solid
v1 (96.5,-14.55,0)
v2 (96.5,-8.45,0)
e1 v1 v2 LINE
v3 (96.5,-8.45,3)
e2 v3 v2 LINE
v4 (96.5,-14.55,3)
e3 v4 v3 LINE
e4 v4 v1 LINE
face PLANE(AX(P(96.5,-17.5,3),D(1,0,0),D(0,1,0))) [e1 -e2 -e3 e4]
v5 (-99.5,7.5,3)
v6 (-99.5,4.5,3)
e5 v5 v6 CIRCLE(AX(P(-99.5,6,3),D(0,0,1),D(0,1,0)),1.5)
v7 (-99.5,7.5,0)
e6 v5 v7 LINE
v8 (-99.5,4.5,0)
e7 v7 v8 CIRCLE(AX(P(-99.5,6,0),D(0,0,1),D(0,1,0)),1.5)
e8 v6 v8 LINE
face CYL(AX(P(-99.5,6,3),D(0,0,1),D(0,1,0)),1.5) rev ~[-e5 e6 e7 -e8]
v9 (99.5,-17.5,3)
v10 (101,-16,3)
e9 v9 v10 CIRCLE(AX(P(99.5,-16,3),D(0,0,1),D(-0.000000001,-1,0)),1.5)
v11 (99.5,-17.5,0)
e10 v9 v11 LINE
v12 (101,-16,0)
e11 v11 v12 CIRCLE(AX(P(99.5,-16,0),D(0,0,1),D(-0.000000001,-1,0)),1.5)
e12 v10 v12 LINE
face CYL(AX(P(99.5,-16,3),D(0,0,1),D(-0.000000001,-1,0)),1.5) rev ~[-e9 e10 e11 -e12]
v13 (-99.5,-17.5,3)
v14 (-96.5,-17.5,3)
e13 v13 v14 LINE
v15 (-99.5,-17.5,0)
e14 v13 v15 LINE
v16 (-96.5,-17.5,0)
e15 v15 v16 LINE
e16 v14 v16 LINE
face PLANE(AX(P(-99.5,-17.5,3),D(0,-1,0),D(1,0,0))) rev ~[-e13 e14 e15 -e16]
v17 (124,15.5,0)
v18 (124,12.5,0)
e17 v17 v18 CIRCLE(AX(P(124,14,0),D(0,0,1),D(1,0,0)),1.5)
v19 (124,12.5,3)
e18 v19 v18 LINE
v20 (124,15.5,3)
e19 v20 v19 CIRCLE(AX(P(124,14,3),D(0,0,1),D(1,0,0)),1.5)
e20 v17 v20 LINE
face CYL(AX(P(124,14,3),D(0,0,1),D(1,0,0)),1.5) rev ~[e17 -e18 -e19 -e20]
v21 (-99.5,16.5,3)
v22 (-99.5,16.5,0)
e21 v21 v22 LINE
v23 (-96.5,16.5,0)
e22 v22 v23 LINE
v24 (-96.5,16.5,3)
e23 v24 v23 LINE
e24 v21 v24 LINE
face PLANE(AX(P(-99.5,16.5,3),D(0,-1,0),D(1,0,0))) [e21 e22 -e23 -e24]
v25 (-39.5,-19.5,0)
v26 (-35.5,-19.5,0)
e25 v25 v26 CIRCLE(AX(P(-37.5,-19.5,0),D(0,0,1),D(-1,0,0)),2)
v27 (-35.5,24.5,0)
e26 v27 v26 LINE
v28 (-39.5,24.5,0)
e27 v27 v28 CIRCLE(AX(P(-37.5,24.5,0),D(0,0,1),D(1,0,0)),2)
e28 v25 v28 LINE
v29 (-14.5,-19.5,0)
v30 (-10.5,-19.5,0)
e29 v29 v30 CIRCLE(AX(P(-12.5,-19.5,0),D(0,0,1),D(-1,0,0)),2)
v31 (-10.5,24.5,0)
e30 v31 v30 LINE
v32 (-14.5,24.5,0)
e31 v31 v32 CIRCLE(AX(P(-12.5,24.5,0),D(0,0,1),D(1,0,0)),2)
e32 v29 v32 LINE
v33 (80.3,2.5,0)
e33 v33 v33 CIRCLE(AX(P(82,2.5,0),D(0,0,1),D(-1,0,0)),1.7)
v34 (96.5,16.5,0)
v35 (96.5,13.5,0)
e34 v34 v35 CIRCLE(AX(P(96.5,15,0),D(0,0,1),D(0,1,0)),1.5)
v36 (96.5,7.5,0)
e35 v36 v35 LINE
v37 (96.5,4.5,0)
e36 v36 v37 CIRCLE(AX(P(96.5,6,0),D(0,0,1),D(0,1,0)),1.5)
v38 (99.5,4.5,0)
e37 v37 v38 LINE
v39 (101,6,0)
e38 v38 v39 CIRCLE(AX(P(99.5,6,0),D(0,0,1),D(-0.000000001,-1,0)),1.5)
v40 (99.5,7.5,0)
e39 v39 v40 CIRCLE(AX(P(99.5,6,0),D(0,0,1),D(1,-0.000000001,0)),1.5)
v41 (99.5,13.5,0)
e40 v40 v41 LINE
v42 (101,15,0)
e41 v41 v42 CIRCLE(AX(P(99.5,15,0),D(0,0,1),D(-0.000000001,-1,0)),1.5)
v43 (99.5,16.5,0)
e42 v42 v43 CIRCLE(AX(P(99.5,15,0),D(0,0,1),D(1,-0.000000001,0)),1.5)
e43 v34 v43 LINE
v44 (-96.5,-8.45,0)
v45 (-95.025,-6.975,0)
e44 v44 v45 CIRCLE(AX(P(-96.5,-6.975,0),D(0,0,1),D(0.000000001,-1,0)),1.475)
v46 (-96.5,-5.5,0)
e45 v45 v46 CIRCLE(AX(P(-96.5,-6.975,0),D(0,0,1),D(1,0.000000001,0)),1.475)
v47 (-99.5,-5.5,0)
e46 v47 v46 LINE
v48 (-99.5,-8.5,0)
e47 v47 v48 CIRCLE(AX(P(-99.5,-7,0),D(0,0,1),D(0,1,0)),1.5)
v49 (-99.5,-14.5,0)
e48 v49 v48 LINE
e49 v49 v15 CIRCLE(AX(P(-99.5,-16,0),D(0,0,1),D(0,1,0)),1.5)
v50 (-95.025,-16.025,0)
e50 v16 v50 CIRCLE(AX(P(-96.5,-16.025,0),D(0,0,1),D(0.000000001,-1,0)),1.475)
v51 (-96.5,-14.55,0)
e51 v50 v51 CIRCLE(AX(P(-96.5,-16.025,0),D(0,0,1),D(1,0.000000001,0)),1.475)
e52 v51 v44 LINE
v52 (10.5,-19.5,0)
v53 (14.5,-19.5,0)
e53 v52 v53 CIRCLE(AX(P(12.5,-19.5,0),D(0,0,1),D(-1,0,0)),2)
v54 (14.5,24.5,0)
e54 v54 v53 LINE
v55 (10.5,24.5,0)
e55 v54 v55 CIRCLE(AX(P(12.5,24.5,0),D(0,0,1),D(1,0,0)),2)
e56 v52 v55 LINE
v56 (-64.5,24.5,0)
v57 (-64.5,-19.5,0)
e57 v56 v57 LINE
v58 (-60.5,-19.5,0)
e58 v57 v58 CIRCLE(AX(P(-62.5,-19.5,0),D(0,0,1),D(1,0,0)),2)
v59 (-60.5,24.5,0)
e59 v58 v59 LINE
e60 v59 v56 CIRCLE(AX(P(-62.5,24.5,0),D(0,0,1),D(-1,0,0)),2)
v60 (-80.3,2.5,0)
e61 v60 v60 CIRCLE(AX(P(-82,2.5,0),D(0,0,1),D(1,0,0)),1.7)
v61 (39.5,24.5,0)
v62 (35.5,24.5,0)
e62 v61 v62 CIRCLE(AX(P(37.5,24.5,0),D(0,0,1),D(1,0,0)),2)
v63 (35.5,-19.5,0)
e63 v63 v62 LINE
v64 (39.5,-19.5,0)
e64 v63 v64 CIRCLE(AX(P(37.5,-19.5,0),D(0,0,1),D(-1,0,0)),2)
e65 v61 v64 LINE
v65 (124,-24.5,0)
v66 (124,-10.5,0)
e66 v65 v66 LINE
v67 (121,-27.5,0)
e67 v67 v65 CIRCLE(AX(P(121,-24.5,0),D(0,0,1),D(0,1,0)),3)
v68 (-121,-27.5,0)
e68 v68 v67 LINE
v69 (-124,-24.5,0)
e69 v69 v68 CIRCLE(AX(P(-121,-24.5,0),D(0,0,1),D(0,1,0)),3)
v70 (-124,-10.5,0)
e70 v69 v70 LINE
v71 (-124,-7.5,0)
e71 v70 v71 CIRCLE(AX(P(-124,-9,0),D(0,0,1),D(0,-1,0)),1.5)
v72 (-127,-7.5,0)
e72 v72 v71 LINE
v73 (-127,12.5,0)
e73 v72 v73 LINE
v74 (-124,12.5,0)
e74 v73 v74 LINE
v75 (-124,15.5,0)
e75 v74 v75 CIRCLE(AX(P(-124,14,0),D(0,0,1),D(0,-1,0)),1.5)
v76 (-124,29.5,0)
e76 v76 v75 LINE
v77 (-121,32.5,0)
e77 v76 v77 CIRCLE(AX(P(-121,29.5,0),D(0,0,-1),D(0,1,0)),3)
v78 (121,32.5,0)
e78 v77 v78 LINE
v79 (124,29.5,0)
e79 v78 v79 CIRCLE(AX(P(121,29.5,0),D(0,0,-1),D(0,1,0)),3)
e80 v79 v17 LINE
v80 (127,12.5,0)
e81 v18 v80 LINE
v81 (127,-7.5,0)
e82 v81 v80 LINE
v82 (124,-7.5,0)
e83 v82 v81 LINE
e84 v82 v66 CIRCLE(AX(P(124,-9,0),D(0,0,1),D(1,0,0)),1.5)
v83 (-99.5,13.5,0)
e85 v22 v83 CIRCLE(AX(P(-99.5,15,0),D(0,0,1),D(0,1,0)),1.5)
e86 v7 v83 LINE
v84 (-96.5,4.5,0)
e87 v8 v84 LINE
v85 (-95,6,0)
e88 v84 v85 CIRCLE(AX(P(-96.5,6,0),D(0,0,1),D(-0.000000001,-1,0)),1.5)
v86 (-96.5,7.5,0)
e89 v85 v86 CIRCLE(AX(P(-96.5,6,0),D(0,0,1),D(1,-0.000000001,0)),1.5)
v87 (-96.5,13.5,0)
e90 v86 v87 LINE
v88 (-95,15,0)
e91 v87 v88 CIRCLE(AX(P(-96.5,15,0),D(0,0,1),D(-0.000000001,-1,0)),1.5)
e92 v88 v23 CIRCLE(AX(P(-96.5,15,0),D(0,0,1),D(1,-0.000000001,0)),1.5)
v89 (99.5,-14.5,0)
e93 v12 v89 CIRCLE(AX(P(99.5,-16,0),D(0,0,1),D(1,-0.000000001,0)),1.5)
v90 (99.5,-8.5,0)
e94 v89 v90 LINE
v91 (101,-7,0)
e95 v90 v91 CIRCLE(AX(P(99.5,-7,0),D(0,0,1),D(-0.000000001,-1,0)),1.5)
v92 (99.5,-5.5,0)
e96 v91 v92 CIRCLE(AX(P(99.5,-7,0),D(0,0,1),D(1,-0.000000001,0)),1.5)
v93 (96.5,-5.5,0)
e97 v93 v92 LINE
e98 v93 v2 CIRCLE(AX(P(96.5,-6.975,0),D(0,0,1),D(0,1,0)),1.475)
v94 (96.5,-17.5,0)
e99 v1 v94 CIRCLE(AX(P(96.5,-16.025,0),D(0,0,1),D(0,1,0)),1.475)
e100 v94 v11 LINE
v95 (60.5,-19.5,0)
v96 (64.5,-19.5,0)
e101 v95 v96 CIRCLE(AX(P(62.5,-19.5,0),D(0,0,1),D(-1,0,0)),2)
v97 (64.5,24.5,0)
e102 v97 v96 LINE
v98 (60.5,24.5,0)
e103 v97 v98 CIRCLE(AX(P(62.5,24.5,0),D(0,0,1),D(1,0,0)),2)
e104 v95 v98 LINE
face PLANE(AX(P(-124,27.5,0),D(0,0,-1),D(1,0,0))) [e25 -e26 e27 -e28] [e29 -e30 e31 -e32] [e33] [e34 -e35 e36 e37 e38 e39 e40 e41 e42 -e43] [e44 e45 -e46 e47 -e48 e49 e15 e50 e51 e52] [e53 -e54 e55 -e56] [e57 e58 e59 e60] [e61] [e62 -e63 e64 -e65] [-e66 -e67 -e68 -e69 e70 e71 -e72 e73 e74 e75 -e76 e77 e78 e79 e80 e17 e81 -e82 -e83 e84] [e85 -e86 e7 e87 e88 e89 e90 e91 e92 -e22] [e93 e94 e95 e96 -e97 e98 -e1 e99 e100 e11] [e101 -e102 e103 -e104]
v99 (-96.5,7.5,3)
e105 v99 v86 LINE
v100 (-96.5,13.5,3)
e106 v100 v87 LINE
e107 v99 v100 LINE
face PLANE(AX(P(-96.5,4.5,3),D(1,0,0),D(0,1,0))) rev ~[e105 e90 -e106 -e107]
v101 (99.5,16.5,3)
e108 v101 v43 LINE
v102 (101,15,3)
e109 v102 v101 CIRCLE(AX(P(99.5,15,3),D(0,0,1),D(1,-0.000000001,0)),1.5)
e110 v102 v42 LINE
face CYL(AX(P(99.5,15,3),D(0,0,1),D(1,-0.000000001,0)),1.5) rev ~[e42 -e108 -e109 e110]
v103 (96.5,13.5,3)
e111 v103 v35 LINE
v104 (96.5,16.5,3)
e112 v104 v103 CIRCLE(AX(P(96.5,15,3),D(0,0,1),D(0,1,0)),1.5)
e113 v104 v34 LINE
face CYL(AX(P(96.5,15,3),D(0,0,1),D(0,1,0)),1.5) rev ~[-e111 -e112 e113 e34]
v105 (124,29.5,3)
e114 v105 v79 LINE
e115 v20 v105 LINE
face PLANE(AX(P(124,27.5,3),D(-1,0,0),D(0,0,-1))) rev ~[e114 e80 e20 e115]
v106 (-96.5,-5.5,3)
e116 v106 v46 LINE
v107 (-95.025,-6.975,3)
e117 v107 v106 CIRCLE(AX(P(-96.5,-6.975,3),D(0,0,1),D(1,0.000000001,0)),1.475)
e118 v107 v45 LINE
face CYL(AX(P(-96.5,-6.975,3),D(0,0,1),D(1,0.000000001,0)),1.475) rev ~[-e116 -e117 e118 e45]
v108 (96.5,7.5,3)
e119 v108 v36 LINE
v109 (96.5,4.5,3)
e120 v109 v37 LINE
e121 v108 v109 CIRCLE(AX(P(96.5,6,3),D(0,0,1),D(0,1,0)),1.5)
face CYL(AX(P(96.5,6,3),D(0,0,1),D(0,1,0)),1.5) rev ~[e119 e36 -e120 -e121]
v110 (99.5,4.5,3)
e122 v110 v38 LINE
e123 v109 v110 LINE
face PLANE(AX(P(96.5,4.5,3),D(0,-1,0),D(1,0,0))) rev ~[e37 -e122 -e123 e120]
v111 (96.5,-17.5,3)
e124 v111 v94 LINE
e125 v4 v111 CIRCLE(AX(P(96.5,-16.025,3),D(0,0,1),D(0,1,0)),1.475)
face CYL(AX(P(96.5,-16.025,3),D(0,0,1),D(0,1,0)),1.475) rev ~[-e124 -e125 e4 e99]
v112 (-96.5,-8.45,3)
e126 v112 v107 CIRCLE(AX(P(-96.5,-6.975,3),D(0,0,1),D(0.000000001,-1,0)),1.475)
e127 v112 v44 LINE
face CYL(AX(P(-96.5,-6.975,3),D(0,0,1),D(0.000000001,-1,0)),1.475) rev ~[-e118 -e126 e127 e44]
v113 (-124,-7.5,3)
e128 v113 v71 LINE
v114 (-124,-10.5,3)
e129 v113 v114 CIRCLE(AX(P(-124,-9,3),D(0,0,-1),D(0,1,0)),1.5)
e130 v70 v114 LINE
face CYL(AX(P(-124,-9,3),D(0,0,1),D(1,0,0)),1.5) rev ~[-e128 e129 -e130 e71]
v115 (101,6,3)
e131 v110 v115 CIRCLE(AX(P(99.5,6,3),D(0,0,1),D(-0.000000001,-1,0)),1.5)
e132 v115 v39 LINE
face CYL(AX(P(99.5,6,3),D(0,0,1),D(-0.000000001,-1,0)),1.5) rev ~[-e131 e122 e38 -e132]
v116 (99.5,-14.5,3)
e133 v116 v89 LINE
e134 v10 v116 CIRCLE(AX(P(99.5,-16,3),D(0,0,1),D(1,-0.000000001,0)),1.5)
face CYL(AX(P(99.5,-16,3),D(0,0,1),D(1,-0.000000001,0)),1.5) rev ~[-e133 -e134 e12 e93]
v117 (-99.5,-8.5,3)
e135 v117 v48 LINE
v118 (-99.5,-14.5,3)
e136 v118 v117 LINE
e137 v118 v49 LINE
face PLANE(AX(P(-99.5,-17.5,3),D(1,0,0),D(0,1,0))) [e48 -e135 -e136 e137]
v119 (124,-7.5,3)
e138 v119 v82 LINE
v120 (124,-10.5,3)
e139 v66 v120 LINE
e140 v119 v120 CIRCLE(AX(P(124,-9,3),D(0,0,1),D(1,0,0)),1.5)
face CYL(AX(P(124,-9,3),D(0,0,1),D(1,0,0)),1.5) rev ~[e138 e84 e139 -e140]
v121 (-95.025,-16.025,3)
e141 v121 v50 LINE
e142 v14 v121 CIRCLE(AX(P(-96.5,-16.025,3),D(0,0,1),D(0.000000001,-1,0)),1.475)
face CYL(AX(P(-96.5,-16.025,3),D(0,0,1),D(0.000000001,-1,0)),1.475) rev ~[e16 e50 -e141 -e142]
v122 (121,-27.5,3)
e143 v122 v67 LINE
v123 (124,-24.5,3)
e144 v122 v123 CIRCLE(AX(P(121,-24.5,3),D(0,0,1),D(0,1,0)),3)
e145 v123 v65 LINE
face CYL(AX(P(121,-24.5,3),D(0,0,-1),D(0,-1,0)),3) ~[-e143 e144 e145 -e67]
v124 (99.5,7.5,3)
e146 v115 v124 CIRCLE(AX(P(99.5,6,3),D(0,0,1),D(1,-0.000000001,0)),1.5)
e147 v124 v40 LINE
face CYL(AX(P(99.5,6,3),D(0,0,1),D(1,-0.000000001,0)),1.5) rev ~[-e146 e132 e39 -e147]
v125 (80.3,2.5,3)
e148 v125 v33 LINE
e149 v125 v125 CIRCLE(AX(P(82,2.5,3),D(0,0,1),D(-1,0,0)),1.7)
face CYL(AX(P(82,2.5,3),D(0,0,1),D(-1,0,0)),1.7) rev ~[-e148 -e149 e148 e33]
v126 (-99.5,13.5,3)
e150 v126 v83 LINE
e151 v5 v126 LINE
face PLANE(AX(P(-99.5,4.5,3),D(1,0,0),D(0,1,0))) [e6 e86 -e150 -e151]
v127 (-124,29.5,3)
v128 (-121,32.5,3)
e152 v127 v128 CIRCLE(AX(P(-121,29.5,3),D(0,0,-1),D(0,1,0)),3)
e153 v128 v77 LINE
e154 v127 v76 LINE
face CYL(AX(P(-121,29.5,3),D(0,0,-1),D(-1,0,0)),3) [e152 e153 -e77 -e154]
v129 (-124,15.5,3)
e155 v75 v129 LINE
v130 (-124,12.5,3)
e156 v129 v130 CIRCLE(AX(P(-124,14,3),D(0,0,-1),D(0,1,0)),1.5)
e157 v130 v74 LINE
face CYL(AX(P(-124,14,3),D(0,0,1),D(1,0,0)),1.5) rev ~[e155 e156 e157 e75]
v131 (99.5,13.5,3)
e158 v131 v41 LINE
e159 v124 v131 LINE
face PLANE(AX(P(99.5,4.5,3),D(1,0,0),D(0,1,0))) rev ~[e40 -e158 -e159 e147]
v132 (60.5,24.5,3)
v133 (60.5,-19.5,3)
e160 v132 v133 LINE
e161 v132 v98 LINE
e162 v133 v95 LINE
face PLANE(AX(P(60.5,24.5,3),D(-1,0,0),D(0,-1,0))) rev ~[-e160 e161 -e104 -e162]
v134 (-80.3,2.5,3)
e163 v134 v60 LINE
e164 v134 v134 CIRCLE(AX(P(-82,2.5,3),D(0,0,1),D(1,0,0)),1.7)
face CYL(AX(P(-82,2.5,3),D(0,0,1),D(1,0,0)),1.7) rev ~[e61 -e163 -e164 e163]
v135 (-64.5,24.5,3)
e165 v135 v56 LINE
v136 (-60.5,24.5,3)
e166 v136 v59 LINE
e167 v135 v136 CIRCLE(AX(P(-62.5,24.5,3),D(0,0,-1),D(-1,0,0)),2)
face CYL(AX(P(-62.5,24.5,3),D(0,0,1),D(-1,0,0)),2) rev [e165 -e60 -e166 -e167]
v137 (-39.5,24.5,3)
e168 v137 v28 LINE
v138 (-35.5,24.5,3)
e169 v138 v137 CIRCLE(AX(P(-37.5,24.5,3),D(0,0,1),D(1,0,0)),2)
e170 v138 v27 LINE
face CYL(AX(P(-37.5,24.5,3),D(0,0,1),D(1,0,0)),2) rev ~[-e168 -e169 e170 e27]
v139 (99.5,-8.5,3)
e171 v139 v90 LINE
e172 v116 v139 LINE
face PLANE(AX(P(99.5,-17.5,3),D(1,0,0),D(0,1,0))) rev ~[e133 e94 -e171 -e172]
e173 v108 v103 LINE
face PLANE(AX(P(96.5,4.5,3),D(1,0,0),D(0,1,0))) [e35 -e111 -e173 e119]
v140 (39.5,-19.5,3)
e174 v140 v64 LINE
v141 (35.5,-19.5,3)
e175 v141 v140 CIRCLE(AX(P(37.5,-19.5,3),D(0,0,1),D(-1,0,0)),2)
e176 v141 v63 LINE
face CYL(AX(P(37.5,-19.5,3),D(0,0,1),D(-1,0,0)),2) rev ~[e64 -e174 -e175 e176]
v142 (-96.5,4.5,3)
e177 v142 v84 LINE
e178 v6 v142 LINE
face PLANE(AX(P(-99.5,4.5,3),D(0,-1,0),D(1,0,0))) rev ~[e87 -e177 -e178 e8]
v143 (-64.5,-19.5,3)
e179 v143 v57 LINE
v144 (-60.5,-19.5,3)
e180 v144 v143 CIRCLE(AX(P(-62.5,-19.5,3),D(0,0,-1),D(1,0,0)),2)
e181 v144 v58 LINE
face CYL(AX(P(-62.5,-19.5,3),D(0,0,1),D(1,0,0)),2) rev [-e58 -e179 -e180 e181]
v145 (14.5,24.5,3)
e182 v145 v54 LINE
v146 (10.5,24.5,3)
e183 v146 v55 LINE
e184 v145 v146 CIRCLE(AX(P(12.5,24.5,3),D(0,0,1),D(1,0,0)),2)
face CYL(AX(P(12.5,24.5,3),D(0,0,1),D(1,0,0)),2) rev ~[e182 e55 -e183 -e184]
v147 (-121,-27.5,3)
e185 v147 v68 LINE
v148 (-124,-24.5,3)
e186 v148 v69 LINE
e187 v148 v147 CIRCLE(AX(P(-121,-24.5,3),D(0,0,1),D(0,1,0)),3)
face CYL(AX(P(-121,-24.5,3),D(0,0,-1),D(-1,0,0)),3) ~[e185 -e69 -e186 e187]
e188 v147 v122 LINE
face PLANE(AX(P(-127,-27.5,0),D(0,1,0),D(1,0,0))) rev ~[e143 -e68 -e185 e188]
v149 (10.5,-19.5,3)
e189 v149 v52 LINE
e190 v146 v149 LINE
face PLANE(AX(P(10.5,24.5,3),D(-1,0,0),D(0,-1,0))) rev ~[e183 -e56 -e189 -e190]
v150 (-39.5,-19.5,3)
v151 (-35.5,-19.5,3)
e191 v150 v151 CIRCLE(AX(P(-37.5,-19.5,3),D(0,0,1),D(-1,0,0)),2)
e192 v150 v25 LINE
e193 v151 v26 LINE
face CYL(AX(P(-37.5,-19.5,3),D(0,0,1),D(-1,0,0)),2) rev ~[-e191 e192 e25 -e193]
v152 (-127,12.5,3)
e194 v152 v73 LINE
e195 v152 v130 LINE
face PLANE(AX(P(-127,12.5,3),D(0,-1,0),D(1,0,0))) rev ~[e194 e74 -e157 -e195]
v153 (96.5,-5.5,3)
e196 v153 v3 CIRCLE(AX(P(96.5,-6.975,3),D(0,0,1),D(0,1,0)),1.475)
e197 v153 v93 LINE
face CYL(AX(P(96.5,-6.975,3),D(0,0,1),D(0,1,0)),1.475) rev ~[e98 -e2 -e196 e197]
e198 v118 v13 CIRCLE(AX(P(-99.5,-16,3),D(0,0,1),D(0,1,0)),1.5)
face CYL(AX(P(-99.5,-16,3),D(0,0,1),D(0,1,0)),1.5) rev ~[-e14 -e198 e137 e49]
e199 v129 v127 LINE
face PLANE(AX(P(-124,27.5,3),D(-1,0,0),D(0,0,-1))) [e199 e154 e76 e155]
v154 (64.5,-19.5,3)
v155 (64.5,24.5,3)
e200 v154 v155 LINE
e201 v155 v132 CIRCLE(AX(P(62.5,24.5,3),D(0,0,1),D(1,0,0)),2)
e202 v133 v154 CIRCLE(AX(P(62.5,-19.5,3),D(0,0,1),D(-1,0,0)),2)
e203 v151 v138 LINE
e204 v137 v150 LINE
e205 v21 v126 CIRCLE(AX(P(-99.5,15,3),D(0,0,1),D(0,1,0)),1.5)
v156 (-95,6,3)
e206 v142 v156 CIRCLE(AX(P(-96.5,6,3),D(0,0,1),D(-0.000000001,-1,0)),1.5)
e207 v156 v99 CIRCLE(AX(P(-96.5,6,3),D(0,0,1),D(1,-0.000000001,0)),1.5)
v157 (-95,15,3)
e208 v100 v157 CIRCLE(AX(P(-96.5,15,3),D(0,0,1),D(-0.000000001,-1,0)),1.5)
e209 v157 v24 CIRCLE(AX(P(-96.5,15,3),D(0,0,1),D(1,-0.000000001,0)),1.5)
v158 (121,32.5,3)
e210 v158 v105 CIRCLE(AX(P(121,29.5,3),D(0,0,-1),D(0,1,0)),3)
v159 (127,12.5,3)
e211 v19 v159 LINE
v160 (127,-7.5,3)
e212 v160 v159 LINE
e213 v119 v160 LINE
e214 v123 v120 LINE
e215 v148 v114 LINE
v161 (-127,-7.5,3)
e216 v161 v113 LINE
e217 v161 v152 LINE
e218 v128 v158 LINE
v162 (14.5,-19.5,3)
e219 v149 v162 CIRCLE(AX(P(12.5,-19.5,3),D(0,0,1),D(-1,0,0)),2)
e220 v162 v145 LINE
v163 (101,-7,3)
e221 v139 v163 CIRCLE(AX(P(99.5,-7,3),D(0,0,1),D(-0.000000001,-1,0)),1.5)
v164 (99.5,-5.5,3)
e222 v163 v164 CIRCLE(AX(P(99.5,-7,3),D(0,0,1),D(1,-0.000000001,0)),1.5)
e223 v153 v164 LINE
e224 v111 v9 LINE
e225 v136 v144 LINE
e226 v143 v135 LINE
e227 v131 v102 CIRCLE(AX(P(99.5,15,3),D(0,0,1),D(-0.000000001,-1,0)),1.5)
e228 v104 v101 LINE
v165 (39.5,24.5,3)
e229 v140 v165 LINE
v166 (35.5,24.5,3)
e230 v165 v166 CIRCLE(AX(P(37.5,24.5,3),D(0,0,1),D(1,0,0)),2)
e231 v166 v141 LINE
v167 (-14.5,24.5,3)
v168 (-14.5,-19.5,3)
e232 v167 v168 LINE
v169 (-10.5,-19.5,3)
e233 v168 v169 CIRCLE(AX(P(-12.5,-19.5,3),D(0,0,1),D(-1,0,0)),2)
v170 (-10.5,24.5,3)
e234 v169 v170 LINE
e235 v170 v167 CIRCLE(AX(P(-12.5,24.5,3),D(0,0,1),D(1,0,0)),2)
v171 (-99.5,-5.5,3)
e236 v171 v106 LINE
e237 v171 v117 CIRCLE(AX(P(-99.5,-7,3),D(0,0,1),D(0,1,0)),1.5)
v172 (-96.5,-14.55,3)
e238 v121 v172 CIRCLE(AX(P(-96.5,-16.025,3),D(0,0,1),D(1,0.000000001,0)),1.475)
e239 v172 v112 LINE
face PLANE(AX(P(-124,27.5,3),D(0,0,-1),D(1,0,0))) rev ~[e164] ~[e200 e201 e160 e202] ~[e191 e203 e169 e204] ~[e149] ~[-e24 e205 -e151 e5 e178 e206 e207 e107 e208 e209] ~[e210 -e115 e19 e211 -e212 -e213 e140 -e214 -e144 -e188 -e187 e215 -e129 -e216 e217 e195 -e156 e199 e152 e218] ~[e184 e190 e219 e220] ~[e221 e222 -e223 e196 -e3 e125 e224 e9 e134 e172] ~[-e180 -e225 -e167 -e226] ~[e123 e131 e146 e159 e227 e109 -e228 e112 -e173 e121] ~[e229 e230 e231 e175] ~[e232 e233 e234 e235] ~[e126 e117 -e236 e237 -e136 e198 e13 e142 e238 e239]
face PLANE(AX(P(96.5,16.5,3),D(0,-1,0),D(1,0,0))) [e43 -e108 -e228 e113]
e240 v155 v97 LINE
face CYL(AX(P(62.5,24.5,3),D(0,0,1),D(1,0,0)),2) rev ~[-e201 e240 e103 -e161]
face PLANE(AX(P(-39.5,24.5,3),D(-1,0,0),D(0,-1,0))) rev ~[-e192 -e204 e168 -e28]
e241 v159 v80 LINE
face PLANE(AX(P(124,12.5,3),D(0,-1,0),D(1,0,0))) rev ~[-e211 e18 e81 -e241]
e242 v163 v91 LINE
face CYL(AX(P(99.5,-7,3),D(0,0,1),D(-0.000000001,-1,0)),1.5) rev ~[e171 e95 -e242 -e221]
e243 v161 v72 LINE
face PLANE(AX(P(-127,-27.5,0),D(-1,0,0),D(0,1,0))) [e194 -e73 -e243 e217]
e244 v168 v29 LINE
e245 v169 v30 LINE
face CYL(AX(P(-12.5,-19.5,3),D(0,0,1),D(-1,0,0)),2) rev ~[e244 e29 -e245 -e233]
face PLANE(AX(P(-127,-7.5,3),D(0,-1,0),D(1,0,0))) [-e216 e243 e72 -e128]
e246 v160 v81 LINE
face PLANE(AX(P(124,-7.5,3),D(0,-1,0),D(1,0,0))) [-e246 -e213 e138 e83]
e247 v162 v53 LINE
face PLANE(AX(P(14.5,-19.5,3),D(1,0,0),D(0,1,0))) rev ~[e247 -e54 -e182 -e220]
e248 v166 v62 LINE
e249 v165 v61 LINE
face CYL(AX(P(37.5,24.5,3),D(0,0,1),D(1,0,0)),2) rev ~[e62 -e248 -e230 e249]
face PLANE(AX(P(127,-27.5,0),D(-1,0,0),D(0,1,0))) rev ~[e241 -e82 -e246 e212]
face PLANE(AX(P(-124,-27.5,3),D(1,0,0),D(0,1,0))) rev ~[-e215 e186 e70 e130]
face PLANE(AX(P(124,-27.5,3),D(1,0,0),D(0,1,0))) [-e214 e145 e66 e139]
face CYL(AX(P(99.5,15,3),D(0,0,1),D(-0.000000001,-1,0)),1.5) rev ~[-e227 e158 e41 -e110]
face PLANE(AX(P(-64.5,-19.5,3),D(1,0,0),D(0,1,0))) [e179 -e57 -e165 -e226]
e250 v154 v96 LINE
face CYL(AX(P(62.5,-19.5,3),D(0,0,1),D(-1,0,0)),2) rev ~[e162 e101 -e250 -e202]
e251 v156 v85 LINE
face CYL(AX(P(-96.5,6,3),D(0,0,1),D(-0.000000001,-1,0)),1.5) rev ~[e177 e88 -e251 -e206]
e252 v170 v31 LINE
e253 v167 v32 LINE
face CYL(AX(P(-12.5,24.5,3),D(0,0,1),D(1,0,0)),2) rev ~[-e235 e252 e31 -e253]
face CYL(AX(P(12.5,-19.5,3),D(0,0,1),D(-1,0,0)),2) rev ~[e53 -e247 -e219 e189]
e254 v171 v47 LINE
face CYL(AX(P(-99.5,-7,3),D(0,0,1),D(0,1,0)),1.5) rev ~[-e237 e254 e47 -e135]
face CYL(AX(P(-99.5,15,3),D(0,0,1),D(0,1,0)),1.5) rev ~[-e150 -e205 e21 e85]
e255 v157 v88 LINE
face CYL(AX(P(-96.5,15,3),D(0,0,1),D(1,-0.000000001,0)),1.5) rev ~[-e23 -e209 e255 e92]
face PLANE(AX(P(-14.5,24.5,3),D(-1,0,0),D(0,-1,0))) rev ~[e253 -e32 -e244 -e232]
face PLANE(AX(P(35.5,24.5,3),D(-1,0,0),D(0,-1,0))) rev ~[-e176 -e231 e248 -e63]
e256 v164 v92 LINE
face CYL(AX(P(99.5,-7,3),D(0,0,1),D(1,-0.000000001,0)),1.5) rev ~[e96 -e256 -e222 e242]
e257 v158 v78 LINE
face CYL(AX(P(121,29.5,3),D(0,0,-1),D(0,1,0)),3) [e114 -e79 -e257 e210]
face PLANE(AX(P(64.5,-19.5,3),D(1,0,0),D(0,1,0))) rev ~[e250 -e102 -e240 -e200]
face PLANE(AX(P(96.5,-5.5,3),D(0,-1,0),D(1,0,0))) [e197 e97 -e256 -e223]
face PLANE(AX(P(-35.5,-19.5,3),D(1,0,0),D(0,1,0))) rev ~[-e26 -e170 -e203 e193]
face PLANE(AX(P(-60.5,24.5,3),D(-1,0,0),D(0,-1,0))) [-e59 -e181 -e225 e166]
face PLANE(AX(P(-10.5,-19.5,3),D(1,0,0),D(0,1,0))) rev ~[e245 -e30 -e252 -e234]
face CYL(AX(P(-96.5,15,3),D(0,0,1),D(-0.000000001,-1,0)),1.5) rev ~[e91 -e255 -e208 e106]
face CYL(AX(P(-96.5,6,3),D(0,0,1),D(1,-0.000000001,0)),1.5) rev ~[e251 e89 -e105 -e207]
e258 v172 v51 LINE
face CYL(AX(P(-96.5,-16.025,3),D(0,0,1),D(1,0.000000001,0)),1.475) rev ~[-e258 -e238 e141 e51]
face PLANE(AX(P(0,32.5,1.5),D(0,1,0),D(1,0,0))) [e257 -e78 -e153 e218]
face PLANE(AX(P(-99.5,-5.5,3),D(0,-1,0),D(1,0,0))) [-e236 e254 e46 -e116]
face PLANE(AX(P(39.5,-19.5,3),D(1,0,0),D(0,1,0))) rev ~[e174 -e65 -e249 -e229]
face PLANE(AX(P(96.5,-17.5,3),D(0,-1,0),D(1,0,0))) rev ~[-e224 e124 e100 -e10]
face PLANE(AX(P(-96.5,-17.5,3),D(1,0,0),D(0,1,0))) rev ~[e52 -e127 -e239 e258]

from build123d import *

# Parameters (mm, degrees)
SKETCH_1_W          = 254
SKETCH_1_H          = 55
EXTRUDE_1_DEPTH     = 3
SKETCH_2_W          = 3
SKETCH_2_H          = 20
SKETCH_2_H_2        = 15
CUT_EXTRUDE_1_DEPTH = 130.977882734
SKETCH_3_W          = 3
SKETCH_3_H          = 12
CUT_EXTRUDE_2_DEPTH = 130.977882734
CUT_EXTRUDE_3_DEPTH = 130.977882734
SKETCH_5_R          = 1.5
CUT_EXTRUDE_4_DEPTH = 130.977882734
SKETCH_6_R          = 1.7
CUT_EXTRUDE_5_DEPTH = 130.977882734
SKETCH_7_W          = 248
SKETCH_7_H          = 3
EXTRUDE_2_DEPTH     = 5
CUT_EXTRUDE_6_DEPTH = 132.126846984
FILLET_1_R          = 3


with BuildPart() as part:
    # 草图1 → 凸台-拉伸1 (new body)
    with BuildSketch(Plane.XY):
        Rectangle(SKETCH_1_W, SKETCH_1_H)
    extrude(amount=EXTRUDE_1_DEPTH)

    # 草图2 → 切除-拉伸1 (cut, through all)
    with BuildSketch(Plane.XY.offset(3)):
        with Locations((-125.5, -17.5)):
            Rectangle(SKETCH_2_W, SKETCH_2_H)
        with Locations((-125.5, 20)):
            Rectangle(SKETCH_2_W, SKETCH_2_H_2)
        with Locations((125.5, -17.5)):
            Rectangle(SKETCH_2_W, SKETCH_2_H)
        with Locations((125.5, 20)):
            Rectangle(SKETCH_2_W, SKETCH_2_H_2)
    extrude(amount=-CUT_EXTRUDE_1_DEPTH, mode=Mode.SUBTRACT)

    # 草图3 → 切除-拉伸2 (cut, through all)
    with BuildSketch(Plane.XY.offset(3)):
        with Locations((-98, -11.5)):
            Rectangle(SKETCH_3_W, SKETCH_3_H)
        with Locations((-98, 10.5)):
            Rectangle(SKETCH_3_W, SKETCH_3_H)
        with Locations((98, -11.5)):
            Rectangle(SKETCH_3_W, SKETCH_3_H)
        with Locations((98, 10.5)):
            Rectangle(SKETCH_3_W, SKETCH_3_H)
    extrude(amount=-CUT_EXTRUDE_2_DEPTH, mode=Mode.SUBTRACT)

    # 草图4 → 切除-拉伸3 (cut, through all)
    with BuildSketch(Plane.XY.offset(3)):
        with BuildLine():
            Line((99.5, -14.5), (99.5, -17.5))
            ThreePointArc((99.5, -17.5), (100.560660172, -17.060660172), (101, -16))
            ThreePointArc((101, -16), (100.560660172, -14.939339828), (99.5, -14.5))
        make_face()
        with BuildLine():
            ThreePointArc((99.5, -14.5), (98, -16), (99.5, -17.5))
            Line((99.5, -17.5), (99.5, -14.5))
        make_face()
        with BuildLine():
            Line((96.5, -14.55), (96.5, -17.5))
            ThreePointArc((96.5, -17.5), (97.542982502, -17.067982502), (97.975, -16.025))
            ThreePointArc((97.975, -16.025), (97.542982502, -14.982017498), (96.5, -14.55))
        make_face()
        with BuildLine():
            ThreePointArc((96.5, -14.55), (95.025, -16.025), (96.5, -17.5))
            Line((96.5, -17.5), (96.5, -14.55))
        make_face()
        with BuildLine():
            ThreePointArc((96.5, -5.5), (95.025, -6.975), (96.5, -8.45))
            Line((96.5, -8.45), (96.5, -5.5))
        make_face()
        with BuildLine():
            Line((96.5, -5.5), (96.5, -8.45))
            ThreePointArc((96.5, -8.45), (97.542982502, -8.017982502), (97.975, -6.975))
            ThreePointArc((97.975, -6.975), (97.542982502, -5.932017498), (96.5, -5.5))
        make_face()
        with BuildLine():
            ThreePointArc((99.5, -5.5), (98, -7), (99.5, -8.5))
            Line((99.5, -8.5), (99.5, -5.5))
        make_face()
        with BuildLine():
            Line((99.5, -5.5), (99.5, -8.5))
            ThreePointArc((99.5, -8.5), (100.560660172, -8.060660172), (101, -7))
            ThreePointArc((101, -7), (100.560660172, -5.939339828), (99.5, -5.5))
        make_face()
        with BuildLine():
            ThreePointArc((99.5, 7.5), (98.439339828, 7.060660172), (98, 6))
            ThreePointArc((98, 6), (98.439339828, 4.939339828), (99.5, 4.5))
            Line((99.5, 4.5), (99.5, 7.5))
        make_face()
        with BuildLine():
            Line((99.5, 7.5), (99.5, 4.5))
            ThreePointArc((99.5, 4.5), (100.560660172, 4.939339828), (101, 6))
            ThreePointArc((101, 6), (100.560660172, 7.060660172), (99.5, 7.5))
        make_face()
        with BuildLine():
            Line((96.5, 7.5), (96.5, 4.5))
            ThreePointArc((96.5, 4.5), (97.560660172, 4.939339828), (98, 6))
            ThreePointArc((98, 6), (97.560660172, 7.060660172), (96.5, 7.5))
        make_face()
        with BuildLine():
            ThreePointArc((96.5, 7.5), (95, 6), (96.5, 4.5))
            Line((96.5, 4.5), (96.5, 7.5))
        make_face()
        with BuildLine():
            Line((96.5, 16.5), (96.5, 13.5))
            ThreePointArc((96.5, 13.5), (97.560660172, 13.939339828), (98, 15))
            ThreePointArc((98, 15), (97.560660172, 16.060660172), (96.5, 16.5))
        make_face()
        with BuildLine():
            ThreePointArc((96.5, 16.5), (95, 15), (96.5, 13.5))
            Line((96.5, 13.5), (96.5, 16.5))
        make_face()
        with BuildLine():
            Line((99.5, 16.5), (99.5, 13.5))
            ThreePointArc((99.5, 13.5), (100.560660172, 13.939339828), (101, 15))
            ThreePointArc((101, 15), (100.560660172, 16.060660172), (99.5, 16.5))
        make_face()
        with BuildLine():
            ThreePointArc((98, 15), (98.439339828, 13.939339828), (99.5, 13.5))
            Line((99.5, 13.5), (99.5, 16.5))
            ThreePointArc((99.5, 16.5), (98.439339828, 16.060660172), (98, 15))
        make_face()
        with BuildLine():
            ThreePointArc((-96.5, 13.5), (-95.439339828, 13.939339828), (-95, 15))
            ThreePointArc((-95, 15), (-95.439339828, 16.060660172), (-96.5, 16.5))
            Line((-96.5, 16.5), (-96.5, 13.5))
        make_face()
        with BuildLine():
            Line((-96.5, 13.5), (-96.5, 16.5))
            ThreePointArc((-96.5, 16.5), (-97.560660172, 16.060660172), (-98, 15))
            ThreePointArc((-98, 15), (-97.560660172, 13.939339828), (-96.5, 13.5))
        make_face()
        with BuildLine():
            ThreePointArc((-99.5, 13.5), (-98.439339828, 13.939339828), (-98, 15))
            ThreePointArc((-98, 15), (-98.439339828, 16.060660172), (-99.5, 16.5))
            Line((-99.5, 16.5), (-99.5, 13.5))
        make_face()
        with BuildLine():
            Line((-99.5, 13.5), (-99.5, 16.5))
            ThreePointArc((-99.5, 16.5), (-101, 15), (-99.5, 13.5))
        make_face()
        with BuildLine():
            ThreePointArc((-99.5, 4.5), (-98.439339828, 4.939339828), (-98, 6))
            ThreePointArc((-98, 6), (-98.439339828, 7.060660172), (-99.5, 7.5))
            Line((-99.5, 7.5), (-99.5, 4.5))
        make_face()
        with BuildLine():
            Line((-99.5, 4.5), (-99.5, 7.5))
            ThreePointArc((-99.5, 7.5), (-101, 6), (-99.5, 4.5))
        make_face()
        with BuildLine():
            Line((-96.5, 4.5), (-96.5, 7.5))
            ThreePointArc((-96.5, 7.5), (-97.560660172, 7.060660172), (-98, 6))
            ThreePointArc((-98, 6), (-97.560660172, 4.939339828), (-96.5, 4.5))
        make_face()
        with BuildLine():
            ThreePointArc((-95, 6), (-95.439339828, 7.060660172), (-96.5, 7.5))
            Line((-96.5, 7.5), (-96.5, 4.5))
            ThreePointArc((-96.5, 4.5), (-95.439339828, 4.939339828), (-95, 6))
        make_face()
        with BuildLine():
            ThreePointArc((-96.5, -8.45), (-95.457017498, -8.017982502), (-95.025, -6.975))
            ThreePointArc((-95.025, -6.975), (-95.457017498, -5.932017498), (-96.5, -5.5))
            Line((-96.5, -5.5), (-96.5, -8.45))
        make_face()
        with BuildLine():
            Line((-96.5, -8.45), (-96.5, -5.5))
            ThreePointArc((-96.5, -5.5), (-97.975, -6.975), (-96.5, -8.45))
        make_face()
        with BuildLine():
            ThreePointArc((-99.5, -8.5), (-98.439339828, -8.060660172), (-98, -7))
            ThreePointArc((-98, -7), (-98.439339828, -5.939339828), (-99.5, -5.5))
            Line((-99.5, -5.5), (-99.5, -8.5))
        make_face()
        with BuildLine():
            Line((-99.5, -8.5), (-99.5, -5.5))
            ThreePointArc((-99.5, -5.5), (-101, -7), (-99.5, -8.5))
        make_face()
        with BuildLine():
            ThreePointArc((-98, -16), (-98.439339828, -14.939339828), (-99.5, -14.5))
            Line((-99.5, -14.5), (-99.5, -17.5))
            ThreePointArc((-99.5, -17.5), (-98.439339828, -17.060660172), (-98, -16))
        make_face()
        with BuildLine():
            Line((-99.5, -17.5), (-99.5, -14.5))
            ThreePointArc((-99.5, -14.5), (-101, -16), (-99.5, -17.5))
        make_face()
        with BuildLine():
            ThreePointArc((-95.025, -16.025), (-95.457017498, -14.982017498), (-96.5, -14.55))
            Line((-96.5, -14.55), (-96.5, -17.5))
            ThreePointArc((-96.5, -17.5), (-95.457017498, -17.067982502), (-95.025, -16.025))
        make_face()
        with BuildLine():
            Line((-96.5, -17.5), (-96.5, -14.55))
            ThreePointArc((-96.5, -14.55), (-97.975, -16.025), (-96.5, -17.5))
        make_face()
    extrude(amount=-CUT_EXTRUDE_3_DEPTH, mode=Mode.SUBTRACT)

    # 草图5 → 切除-拉伸4 (cut, through all)
    with BuildSketch(Plane.XY.offset(3)):
        with Locations((-124, 14)):
            Circle(SKETCH_5_R)
        with Locations((-124, -9)):
            Circle(SKETCH_5_R)
        with Locations((124, -9)):
            Circle(SKETCH_5_R)
        with Locations((124, 14)):
            Circle(SKETCH_5_R)
    extrude(amount=-CUT_EXTRUDE_4_DEPTH, mode=Mode.SUBTRACT)

    # 草图6 → 切除-拉伸5 (cut, through all)
    with BuildSketch(Plane.XY.offset(3)):
        with Locations((-82, 2.5)):
            Circle(SKETCH_6_R)
        with Locations(Location((82, 2.5, 0), (0, 0, 180))):
            Circle(SKETCH_6_R)
    extrude(amount=-CUT_EXTRUDE_5_DEPTH, mode=Mode.SUBTRACT)

    # 草图7 → 凸台-拉伸2 (add)
    with BuildSketch(Plane(origin=(0, 27.5, 0), x_dir=(1, 0, 0), z_dir=(0, 1, 0))):
        with Locations((0, -1.5)):
            Rectangle(SKETCH_7_W, SKETCH_7_H)
    extrude(amount=EXTRUDE_2_DEPTH)

    # 草图8 → 切除-拉伸6 (cut, through all)
    with BuildSketch(Plane.XY.offset(3)):
        with BuildLine():
            Line((-60.5, 24.5), (-60.5, -19.5))
            ThreePointArc((-60.5, -19.5), (-62.5, -21.5), (-64.5, -19.5))
            Line((-64.5, -19.5), (-64.5, 24.5))
            ThreePointArc((-64.5, 24.5), (-62.5, 26.5), (-60.5, 24.5))
        make_face()
        with BuildLine():
            Line((-39.5, 24.5), (-39.5, -19.5))
            ThreePointArc((-39.5, -19.5), (-37.5, -21.5), (-35.5, -19.5))
            Line((-35.5, -19.5), (-35.5, 24.5))
            ThreePointArc((-35.5, 24.5), (-37.5, 26.5), (-39.5, 24.5))
        make_face()
        with BuildLine():
            Line((-14.5, 24.5), (-14.5, -19.5))
            ThreePointArc((-14.5, -19.5), (-12.5, -21.5), (-10.5, -19.5))
            Line((-10.5, -19.5), (-10.5, 24.5))
            ThreePointArc((-10.5, 24.5), (-12.5, 26.5), (-14.5, 24.5))
        make_face()
        with BuildLine():
            Line((60.5, 24.5), (60.5, -19.5))
            ThreePointArc((60.5, -19.5), (62.5, -21.5), (64.5, -19.5))
            Line((64.5, -19.5), (64.5, 24.5))
            ThreePointArc((64.5, 24.5), (62.5, 26.5), (60.5, 24.5))
        make_face()
        with BuildLine():
            Line((35.5, 24.5), (35.5, -19.5))
            ThreePointArc((35.5, -19.5), (37.5, -21.5), (39.5, -19.5))
            Line((39.5, -19.5), (39.5, 24.5))
            ThreePointArc((39.5, 24.5), (37.5, 26.5), (35.5, 24.5))
        make_face()
        with BuildLine():
            Line((10.5, 24.5), (10.5, -19.5))
            ThreePointArc((10.5, -19.5), (12.5, -21.5), (14.5, -19.5))
            Line((14.5, -19.5), (14.5, 24.5))
            ThreePointArc((14.5, 24.5), (12.5, 26.5), (10.5, 24.5))
        make_face()
    extrude(amount=-CUT_EXTRUDE_6_DEPTH, mode=Mode.SUBTRACT)

    # 圆角1
    fillet_1_edges = [part.edges().sort_by_distance(p)[0] for p in [
        (124, 32.5, 1.5),
        (-124, 32.5, 1.5),
        (124, -27.5, 1.5),
        (-124, -27.5, 1.5),
    ]]
    fillet(fillet_1_edges, radius=FILLET_1_R)


solid = part.part
